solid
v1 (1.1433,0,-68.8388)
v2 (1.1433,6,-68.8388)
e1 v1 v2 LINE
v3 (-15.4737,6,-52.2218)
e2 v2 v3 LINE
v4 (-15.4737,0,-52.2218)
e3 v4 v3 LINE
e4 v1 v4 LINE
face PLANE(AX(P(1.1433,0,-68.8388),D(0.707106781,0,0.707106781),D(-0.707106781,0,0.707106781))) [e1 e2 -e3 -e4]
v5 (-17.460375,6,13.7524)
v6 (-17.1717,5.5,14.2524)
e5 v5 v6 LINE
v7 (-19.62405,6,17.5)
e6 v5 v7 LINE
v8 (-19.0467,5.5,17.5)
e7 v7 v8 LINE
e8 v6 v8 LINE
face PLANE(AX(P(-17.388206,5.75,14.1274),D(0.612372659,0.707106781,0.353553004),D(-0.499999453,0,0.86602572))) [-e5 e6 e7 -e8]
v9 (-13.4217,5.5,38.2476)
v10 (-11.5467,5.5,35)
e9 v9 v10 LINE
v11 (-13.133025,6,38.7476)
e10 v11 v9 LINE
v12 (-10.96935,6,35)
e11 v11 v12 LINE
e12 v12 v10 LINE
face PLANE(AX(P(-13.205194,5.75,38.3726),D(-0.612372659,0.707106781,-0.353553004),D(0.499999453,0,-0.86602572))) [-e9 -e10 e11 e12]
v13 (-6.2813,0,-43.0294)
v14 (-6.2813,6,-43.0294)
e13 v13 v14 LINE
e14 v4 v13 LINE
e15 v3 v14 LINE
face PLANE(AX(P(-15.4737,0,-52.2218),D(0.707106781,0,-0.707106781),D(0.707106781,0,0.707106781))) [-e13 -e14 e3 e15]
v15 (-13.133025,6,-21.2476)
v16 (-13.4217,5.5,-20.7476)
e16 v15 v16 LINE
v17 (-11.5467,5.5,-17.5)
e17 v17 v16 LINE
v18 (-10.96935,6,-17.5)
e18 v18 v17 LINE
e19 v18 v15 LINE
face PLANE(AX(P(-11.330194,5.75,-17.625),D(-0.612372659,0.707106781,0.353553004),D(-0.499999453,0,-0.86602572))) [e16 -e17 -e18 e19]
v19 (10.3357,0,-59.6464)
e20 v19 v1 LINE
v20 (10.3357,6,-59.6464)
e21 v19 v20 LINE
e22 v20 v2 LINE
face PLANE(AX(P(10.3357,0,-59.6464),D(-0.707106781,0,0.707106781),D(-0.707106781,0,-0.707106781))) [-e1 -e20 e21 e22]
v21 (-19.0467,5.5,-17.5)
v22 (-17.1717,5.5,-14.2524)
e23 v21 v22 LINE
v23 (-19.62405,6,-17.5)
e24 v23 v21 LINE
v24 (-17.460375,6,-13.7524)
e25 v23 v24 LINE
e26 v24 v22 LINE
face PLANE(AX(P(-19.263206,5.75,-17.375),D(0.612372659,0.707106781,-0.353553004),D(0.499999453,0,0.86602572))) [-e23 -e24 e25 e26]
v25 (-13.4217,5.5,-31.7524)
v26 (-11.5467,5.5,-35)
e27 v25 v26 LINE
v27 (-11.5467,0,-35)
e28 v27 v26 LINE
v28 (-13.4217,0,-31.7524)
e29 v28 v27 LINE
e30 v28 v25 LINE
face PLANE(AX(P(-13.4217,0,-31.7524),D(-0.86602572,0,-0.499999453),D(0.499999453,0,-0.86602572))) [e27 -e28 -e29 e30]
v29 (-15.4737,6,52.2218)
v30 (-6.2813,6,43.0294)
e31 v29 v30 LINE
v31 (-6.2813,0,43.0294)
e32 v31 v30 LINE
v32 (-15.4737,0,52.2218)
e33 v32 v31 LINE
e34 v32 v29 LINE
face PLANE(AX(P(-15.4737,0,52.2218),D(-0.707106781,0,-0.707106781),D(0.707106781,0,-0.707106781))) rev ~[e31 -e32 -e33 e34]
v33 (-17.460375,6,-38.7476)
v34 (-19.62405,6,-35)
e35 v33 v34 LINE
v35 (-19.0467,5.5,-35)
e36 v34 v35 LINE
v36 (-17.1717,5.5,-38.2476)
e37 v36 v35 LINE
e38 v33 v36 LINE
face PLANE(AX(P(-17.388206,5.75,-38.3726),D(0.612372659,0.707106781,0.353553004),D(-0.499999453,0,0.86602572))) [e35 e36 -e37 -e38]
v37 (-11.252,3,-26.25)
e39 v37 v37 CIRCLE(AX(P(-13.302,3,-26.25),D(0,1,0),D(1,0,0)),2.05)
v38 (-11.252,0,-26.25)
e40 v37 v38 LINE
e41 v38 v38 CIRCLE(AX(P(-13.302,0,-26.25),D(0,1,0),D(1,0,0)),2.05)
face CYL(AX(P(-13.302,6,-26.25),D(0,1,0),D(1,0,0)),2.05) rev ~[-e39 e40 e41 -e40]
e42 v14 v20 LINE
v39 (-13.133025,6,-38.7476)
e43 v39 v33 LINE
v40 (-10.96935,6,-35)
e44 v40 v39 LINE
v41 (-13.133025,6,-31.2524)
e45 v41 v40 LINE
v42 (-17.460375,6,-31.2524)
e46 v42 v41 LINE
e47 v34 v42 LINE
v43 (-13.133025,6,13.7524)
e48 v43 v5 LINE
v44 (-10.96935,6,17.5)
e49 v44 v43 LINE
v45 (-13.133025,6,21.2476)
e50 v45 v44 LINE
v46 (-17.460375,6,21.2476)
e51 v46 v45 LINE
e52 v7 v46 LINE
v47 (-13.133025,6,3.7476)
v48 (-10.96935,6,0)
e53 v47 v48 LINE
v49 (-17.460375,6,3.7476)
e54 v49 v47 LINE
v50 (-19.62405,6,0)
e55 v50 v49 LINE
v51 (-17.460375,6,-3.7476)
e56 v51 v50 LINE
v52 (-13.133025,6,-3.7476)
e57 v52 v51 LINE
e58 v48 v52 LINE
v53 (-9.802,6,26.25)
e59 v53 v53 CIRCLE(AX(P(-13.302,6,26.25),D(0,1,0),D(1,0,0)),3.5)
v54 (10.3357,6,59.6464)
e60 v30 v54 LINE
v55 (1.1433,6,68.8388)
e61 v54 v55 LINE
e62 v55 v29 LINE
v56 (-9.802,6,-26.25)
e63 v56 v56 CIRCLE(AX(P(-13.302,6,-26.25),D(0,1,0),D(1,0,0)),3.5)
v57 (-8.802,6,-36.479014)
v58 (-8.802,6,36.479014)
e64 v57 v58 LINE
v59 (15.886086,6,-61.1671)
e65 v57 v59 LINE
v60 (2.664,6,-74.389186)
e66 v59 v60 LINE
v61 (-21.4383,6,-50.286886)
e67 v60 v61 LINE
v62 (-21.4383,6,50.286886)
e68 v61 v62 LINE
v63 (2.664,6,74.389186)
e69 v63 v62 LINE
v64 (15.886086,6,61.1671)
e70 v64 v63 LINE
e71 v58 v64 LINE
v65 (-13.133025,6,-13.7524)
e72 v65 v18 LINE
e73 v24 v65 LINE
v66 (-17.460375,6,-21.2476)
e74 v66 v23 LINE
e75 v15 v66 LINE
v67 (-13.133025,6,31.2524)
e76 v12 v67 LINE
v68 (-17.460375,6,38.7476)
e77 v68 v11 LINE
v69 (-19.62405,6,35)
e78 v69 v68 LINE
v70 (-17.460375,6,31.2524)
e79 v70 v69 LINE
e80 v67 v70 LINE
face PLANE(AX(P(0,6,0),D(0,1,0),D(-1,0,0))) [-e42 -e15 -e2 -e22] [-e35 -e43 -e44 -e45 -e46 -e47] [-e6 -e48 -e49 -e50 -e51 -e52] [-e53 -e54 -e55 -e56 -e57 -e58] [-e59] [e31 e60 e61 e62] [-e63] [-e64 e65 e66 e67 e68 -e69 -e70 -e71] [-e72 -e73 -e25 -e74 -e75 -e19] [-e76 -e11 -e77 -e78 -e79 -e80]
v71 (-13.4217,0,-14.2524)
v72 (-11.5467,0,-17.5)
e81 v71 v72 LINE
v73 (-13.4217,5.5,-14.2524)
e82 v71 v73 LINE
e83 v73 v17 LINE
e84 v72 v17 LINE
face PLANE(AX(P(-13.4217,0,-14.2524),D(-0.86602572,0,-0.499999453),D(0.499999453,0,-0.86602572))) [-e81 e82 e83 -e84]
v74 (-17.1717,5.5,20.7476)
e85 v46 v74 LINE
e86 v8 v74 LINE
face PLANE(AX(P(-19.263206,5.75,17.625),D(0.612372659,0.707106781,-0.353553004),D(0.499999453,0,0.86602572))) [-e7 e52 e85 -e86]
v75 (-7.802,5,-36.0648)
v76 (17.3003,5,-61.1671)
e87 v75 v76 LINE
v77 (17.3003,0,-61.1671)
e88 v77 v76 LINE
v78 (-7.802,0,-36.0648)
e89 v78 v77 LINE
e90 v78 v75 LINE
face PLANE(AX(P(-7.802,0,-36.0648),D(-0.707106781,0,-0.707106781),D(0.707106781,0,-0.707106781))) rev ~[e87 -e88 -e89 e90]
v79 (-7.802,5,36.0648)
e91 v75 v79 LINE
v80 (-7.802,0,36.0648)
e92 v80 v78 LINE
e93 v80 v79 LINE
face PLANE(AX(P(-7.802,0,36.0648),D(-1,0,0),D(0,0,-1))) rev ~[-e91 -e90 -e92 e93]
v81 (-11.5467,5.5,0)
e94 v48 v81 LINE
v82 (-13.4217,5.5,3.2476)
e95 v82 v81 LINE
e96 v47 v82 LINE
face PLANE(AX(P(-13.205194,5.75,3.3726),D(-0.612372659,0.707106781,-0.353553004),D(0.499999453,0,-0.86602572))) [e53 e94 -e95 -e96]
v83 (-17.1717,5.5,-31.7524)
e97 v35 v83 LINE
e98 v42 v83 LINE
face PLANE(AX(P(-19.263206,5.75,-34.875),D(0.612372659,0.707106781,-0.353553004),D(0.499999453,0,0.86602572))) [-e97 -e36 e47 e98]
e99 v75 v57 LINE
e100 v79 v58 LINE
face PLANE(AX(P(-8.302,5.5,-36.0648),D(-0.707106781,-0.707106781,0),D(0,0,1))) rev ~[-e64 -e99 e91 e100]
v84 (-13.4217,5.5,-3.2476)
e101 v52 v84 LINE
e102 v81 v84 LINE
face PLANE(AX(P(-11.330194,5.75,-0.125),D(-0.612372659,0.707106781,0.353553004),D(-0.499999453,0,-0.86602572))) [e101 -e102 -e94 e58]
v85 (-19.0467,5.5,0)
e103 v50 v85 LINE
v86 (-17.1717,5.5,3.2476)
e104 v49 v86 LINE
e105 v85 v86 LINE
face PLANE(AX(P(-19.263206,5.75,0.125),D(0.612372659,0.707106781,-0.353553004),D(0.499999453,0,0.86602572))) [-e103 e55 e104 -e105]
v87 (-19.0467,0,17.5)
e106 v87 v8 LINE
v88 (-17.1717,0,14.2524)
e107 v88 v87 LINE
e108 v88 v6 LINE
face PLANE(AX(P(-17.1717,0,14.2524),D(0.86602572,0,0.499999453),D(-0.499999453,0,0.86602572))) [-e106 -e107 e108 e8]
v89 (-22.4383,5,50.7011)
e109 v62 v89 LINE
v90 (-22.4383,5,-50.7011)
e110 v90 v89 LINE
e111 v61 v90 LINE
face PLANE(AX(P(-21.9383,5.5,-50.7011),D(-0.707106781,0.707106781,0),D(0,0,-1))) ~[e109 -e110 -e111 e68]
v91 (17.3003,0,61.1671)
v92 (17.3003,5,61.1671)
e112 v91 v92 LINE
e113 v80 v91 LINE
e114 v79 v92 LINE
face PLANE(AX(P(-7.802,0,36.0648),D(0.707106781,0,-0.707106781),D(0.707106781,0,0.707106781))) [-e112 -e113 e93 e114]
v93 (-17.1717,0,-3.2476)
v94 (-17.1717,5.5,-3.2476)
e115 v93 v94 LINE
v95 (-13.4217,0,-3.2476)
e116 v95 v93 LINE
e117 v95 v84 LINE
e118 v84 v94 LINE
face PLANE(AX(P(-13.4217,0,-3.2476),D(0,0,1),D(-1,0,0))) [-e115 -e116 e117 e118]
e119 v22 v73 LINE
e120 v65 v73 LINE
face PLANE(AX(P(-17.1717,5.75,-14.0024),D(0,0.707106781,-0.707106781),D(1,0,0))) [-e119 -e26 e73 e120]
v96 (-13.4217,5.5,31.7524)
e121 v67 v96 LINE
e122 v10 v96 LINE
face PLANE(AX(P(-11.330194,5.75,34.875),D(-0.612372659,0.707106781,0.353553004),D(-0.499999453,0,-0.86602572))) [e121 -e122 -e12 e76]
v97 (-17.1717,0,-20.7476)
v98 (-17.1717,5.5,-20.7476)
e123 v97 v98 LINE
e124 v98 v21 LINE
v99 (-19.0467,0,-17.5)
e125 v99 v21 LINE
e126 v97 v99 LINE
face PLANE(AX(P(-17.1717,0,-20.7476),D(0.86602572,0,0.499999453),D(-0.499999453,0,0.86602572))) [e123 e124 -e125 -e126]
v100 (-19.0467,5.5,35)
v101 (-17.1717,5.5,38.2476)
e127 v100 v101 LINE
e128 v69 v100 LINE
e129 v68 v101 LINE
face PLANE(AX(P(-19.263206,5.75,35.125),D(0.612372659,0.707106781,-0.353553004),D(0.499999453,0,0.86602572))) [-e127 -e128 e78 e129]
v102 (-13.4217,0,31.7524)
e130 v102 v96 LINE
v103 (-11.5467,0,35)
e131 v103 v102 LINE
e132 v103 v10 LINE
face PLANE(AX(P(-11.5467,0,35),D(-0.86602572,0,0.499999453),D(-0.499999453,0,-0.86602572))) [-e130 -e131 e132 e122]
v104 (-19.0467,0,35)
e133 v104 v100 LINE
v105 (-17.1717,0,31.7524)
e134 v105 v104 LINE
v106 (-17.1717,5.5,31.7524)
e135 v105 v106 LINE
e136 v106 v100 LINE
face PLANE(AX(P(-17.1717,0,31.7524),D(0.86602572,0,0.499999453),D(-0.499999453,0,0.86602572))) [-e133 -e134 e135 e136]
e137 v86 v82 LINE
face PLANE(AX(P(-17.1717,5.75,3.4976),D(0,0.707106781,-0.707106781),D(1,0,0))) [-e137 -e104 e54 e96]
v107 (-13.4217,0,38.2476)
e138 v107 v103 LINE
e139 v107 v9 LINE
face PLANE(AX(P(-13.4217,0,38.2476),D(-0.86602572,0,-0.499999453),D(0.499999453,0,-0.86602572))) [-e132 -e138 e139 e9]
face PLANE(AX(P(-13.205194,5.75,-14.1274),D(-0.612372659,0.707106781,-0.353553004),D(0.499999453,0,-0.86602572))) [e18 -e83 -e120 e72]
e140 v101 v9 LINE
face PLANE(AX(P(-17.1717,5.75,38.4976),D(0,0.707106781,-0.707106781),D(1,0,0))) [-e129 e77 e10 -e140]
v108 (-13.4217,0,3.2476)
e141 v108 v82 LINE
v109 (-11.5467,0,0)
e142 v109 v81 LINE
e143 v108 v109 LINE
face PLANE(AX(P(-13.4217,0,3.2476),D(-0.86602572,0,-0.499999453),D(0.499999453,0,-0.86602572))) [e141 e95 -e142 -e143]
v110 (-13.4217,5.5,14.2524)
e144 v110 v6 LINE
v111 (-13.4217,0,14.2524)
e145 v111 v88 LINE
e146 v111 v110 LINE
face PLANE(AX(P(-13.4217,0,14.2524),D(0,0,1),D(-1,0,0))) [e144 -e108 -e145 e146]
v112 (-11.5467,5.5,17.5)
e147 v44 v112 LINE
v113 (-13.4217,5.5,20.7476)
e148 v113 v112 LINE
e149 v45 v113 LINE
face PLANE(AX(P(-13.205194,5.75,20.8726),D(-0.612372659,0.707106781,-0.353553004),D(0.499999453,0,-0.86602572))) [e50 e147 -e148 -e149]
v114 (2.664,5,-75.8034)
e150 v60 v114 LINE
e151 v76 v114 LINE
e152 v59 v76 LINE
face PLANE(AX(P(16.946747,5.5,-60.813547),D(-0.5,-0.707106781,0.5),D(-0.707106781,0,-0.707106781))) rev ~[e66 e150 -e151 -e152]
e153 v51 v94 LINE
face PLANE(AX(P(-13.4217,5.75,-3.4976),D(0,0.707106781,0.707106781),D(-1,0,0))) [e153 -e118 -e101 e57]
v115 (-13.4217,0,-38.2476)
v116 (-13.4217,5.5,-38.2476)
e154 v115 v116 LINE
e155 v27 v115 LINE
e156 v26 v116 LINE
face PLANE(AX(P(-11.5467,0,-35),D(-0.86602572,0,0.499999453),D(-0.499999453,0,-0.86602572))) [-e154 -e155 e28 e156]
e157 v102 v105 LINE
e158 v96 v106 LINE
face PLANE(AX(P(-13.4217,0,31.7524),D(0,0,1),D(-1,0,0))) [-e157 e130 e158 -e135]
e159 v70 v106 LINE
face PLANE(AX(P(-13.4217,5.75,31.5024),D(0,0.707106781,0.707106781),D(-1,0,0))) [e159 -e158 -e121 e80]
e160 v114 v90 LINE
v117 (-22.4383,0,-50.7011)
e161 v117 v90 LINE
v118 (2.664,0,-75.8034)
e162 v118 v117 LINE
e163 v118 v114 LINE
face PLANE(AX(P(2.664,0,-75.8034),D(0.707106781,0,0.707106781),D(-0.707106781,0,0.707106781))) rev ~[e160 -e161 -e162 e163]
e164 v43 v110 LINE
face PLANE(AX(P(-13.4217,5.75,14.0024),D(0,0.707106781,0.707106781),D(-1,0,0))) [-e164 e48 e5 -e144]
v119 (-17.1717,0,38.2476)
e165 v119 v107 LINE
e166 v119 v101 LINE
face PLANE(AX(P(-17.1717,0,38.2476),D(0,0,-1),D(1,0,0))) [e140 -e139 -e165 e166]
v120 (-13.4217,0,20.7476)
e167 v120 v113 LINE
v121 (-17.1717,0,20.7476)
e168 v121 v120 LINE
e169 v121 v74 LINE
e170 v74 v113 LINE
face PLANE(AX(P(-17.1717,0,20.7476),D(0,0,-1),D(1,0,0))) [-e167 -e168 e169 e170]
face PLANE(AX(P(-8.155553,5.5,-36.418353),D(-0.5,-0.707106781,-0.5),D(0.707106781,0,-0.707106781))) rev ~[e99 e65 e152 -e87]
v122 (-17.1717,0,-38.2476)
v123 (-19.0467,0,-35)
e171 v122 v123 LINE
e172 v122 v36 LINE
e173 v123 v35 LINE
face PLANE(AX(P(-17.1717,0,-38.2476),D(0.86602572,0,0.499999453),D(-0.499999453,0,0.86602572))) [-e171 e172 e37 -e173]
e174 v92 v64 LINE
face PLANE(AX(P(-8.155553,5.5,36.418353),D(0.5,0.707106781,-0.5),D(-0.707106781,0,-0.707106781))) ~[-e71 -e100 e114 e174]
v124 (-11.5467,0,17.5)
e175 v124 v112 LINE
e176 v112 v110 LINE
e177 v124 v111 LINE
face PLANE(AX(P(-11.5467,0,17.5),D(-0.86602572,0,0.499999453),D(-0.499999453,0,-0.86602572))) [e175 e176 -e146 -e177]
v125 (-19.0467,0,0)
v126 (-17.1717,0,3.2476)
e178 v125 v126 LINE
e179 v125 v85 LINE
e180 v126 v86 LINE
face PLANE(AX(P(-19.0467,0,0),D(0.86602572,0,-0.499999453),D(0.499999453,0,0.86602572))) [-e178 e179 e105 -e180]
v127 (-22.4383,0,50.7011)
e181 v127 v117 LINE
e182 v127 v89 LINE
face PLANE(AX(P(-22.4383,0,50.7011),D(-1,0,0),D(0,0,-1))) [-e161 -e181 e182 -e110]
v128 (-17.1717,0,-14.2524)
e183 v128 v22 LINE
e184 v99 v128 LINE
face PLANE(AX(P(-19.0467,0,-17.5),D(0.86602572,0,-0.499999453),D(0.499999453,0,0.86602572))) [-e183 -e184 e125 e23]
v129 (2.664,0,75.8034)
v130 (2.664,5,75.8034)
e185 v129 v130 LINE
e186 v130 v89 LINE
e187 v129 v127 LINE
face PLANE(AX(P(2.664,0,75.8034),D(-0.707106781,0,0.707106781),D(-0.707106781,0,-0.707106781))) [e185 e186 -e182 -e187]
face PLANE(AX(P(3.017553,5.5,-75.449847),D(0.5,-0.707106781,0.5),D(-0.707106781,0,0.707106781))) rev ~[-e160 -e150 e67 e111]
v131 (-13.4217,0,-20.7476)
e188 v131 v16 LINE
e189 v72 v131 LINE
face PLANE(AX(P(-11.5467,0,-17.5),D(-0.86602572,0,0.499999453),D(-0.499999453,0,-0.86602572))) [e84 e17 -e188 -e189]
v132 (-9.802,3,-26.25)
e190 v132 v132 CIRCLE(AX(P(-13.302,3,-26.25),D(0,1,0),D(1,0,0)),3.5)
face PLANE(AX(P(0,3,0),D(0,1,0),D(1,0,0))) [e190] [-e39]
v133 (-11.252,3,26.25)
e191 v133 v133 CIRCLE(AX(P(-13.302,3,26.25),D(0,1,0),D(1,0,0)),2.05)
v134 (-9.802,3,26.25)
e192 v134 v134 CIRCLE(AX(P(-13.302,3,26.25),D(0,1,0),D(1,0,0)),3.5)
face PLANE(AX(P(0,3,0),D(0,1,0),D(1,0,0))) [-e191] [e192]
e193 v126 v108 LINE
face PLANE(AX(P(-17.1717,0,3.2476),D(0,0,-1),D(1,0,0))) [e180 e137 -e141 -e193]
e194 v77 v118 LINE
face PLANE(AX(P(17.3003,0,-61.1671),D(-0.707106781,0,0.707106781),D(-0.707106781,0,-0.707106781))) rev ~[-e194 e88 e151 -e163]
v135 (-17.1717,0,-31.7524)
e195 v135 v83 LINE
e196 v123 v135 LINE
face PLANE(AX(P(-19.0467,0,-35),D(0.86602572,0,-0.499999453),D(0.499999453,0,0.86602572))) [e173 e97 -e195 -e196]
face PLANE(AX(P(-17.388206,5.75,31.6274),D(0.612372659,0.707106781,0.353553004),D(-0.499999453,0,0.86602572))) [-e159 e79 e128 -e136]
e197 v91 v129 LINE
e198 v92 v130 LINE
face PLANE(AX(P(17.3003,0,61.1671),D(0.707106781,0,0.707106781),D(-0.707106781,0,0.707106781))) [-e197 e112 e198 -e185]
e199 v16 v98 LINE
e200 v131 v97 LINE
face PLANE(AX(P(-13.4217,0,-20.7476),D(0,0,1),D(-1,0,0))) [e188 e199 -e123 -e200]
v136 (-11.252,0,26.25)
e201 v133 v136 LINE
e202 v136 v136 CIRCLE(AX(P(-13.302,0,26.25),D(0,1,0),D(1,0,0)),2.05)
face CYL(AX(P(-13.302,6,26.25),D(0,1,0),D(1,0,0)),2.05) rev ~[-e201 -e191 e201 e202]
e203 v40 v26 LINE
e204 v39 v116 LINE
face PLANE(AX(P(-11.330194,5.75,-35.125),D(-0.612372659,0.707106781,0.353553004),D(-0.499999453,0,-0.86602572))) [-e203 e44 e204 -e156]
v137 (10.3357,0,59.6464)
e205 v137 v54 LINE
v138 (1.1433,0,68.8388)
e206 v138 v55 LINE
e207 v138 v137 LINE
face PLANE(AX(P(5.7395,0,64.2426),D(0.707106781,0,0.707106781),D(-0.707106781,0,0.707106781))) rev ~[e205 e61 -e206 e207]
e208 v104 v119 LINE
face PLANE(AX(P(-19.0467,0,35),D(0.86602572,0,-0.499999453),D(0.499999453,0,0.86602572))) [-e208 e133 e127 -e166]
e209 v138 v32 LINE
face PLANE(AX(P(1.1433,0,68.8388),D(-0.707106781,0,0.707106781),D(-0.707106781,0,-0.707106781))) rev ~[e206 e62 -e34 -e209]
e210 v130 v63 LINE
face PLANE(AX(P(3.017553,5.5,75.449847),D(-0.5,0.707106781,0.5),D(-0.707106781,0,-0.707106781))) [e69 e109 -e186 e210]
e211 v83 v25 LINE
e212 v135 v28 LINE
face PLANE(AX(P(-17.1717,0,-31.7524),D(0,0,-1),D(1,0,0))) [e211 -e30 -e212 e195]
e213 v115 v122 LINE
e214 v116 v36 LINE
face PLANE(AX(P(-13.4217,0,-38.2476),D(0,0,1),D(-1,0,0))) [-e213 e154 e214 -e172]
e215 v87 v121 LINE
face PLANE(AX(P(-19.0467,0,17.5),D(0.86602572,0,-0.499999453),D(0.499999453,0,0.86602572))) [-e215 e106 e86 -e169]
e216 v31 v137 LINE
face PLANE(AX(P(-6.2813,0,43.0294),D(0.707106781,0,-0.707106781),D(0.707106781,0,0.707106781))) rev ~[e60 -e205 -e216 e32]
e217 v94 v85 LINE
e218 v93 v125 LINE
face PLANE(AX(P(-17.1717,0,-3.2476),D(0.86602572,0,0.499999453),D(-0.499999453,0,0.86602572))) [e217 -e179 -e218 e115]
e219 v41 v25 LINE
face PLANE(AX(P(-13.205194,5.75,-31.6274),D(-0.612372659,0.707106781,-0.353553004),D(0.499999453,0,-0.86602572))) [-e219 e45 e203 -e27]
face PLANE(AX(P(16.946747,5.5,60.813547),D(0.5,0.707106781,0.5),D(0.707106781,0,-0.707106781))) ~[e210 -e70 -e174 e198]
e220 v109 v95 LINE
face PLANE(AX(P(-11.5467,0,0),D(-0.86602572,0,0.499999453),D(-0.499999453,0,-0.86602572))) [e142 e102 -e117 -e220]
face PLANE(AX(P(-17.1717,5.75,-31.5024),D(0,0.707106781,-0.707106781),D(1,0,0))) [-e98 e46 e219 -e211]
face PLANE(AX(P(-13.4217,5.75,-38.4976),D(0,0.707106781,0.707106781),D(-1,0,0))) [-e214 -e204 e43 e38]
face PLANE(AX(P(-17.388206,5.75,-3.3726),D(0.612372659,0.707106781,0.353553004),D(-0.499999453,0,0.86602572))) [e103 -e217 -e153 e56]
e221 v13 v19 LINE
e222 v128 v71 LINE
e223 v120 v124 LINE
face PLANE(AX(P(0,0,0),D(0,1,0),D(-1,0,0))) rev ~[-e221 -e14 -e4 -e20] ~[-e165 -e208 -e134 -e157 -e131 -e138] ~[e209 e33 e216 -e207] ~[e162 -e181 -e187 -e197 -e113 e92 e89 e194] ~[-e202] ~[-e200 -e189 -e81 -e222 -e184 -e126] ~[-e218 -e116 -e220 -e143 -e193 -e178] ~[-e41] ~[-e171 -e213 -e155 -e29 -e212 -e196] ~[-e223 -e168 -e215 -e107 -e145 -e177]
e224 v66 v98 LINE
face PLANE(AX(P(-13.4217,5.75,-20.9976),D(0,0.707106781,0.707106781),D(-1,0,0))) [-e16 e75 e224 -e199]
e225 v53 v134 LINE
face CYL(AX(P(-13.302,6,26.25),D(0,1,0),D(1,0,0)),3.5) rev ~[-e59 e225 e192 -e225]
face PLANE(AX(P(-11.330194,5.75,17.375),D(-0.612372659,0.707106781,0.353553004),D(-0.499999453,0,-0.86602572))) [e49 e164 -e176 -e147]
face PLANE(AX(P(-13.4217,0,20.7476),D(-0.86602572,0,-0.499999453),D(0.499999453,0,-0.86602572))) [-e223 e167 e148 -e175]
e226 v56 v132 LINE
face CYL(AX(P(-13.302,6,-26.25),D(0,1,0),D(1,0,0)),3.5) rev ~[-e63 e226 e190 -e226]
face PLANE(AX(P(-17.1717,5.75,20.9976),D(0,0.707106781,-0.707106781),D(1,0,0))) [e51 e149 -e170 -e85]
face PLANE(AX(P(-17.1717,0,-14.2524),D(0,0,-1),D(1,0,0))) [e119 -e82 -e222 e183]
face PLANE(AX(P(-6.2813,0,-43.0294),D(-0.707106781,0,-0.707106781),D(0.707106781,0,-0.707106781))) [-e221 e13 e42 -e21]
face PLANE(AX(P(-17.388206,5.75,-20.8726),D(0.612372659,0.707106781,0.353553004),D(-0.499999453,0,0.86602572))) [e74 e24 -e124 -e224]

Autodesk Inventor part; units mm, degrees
ref_plane "YZ Plane" through (0, 0, 0) normal (1, 0, 0) x (0, 1, 0)
ref_plane "XZ Plane" through (0, 0, 0) normal (0, 1, 0) x (-1, 0, 0)
ref_plane "XY Plane" through (0, 0, 0) normal (0, 0, 1) x (1, 0, 0)
sketch "Sketch1" plane through (0, 0, 0) normal (0, 1, 0) x (-1, 0, 0)
  line L0 (0, 0) -> (-29.0466, 0)
  line L1 (0, 58.5031) -> (-5.7395, 64.2426)
  line L2 (6.2813, 43.0294) -> (-10.3357, 59.6464)
  line L3 (-10.3357, 59.6464) -> (-1.1433, 68.8388)
  line L4 (-1.1433, 68.8388) -> (15.4737, 52.2218)
  line L5 (15.4737, 52.2218) -> (6.2813, 43.0294)
  line L6 (6.2813, 43.0294) -> (-1.1433, 68.8388) construction
  line L7 (-10.3357, 59.6464) -> (15.4737, 52.2218) construction
  line L8 (7.802, 36.0648) -> (-17.3003, 61.1671)
  line L9 (-17.3003, 61.1671) -> (-2.664, 75.8034)
  line L10 (-2.664, 75.8034) -> (22.4383, 50.7011)
  line L11 (22.4383, 50.7011) -> (7.802, 36.0648)
  line L12 (7.802, 36.0648) -> (-2.664, 75.8034) construction
  line L13 (-17.3003, 61.1671) -> (22.4383, 50.7011) construction
  line L14 (7.802, 36.0648) -> (7.802, -0.7306)
  line L15 (22.4383, 50.7011) -> (22.4383, -0.4008)
  line L16 (6.2813, -43.0294) -> (-10.3357, -59.6464)
  line L17 (-10.3357, -59.6464) -> (-1.1433, -68.8388)
  line L18 (-1.1433, -68.8388) -> (15.4737, -52.2218)
  line L19 (15.4737, -52.2218) -> (6.2813, -43.0294)
  line L20 (-10.3357, -59.6464) -> (15.4737, -52.2218) construction
  line L21 (7.802, -36.0648) -> (-17.3003, -61.1671)
  line L22 (-17.3003, -61.1671) -> (-2.664, -75.8034)
  line L23 (-2.664, -75.8034) -> (22.4383, -50.7011)
  line L24 (22.4383, -50.7011) -> (7.802, -36.0648)
  line L25 (7.802, -36.0648) -> (-2.664, -75.8034) construction
  line L26 (7.802, -36.0648) -> (7.802, -0.7306)
  line L27 (22.4383, -50.7011) -> (22.4383, -0.4008)
  point P0 (2.569, 55.9341)
  point P1 (-1.4969, 60)
  dimension "d0" = 45
  dimension "d1" = 6
  dimension "d2" = 23.5
  dimension "d3" = 13
  dimension "d4" = 60
  dimension "d6" = 6
extrude "Extrusion1" add sketch "Sketch1" along normal blind 6
sketch "Sketch3" plane through (0, 0, 0) normal (0, -1, 0) x (1, 0, 0)
  line L0 (-9.3663, 0) -> (-22.4383, 0)
  line L1 (-22.4383, -50.7011) -> (-22.4383, 50.7011) projected
  circle A0 centre (-15.2967, -35) radius 3.75
  circle A1 centre (-15.2967, 0) radius 3.75
  circle A2 centre (-15.2967, -17.5) radius 3.75
  circle A3 centre (-15.2967, 35) radius 3.75
  line L2 (-19.0467, -35) -> (-17.1717, -31.7524)
  line L3 (-17.1717, -31.7524) -> (-13.4217, -31.7524)
  line L4 (-13.4217, -31.7524) -> (-11.5467, -35)
  line L5 (-11.5467, -35) -> (-13.4217, -38.2476)
  line L6 (-13.4217, -38.2476) -> (-17.1717, -38.2476)
  line L7 (-17.1717, -38.2476) -> (-19.0467, -35)
  line L8 (-19.0467, -17.5) -> (-17.1717, -14.2524)
  line L9 (-17.1717, -14.2524) -> (-13.4217, -14.2524)
  line L10 (-13.4217, -14.2524) -> (-11.5467, -17.5)
  line L11 (-11.5467, -17.5) -> (-13.4217, -20.7476)
  line L12 (-13.4217, -20.7476) -> (-17.1717, -20.7476)
  line L13 (-17.1717, -20.7476) -> (-19.0467, -17.5)
  line L14 (-19.0467, 0) -> (-17.1717, 3.2476)
  line L15 (-17.1717, 3.2476) -> (-13.4217, 3.2476)
  line L16 (-13.4217, 3.2476) -> (-11.5467, 0)
  line L17 (-11.5467, 0) -> (-13.4217, -3.2476)
  line L18 (-13.4217, -3.2476) -> (-17.1717, -3.2476)
  line L19 (-17.1717, -3.2476) -> (-19.0467, 0)
  line L20 (-19.0467, 35) -> (-17.1717, 38.2476)
  line L21 (-17.1717, 38.2476) -> (-13.4217, 38.2476)
  line L22 (-13.4217, 38.2476) -> (-11.5467, 35)
  line L23 (-11.5467, 35) -> (-13.4217, 31.7524)
  line L24 (-13.4217, 31.7524) -> (-17.1717, 31.7524)
  line L25 (-17.1717, 31.7524) -> (-19.0467, 35)
  circle A4 centre (-15.2967, 17.5) radius 3.75
  line L26 (-19.0467, 17.5) -> (-17.1717, 20.7476)
  line L27 (-17.1717, 20.7476) -> (-13.4217, 20.7476)
  line L28 (-13.4217, 20.7476) -> (-11.5467, 17.5)
  line L29 (-11.5467, 17.5) -> (-13.4217, 14.2524)
  line L30 (-13.4217, 14.2524) -> (-17.1717, 14.2524)
  line L31 (-17.1717, 14.2524) -> (-19.0467, 17.5)
  point P0 (0, 0)
  dimension "d15" = 7.5
  dimension "d16" = 7.5
  dimension "d17" = 7.5
  dimension "d19" = 7.5
  dimension "d20" = 7.5
extrude "Extrusion3" cut sketch "Sketch3" against normal blind 6 contours L17 L18 L19 L0 | L0 L14 L15 L16 | L5 L6 L7 L2 L3 L4 | L11 L12 L13 L8 L9 L10 | L23 L24 L25 L20 L21 L22 | L29 L30 L31 L26 L27 L28
sketch "Sketch5" plane through (0, 6, 0) normal (0, 1, 0) x (1, 0, 0)
  line L0 (-17.1717, -3.2476) -> (-19.0467, 0) projected
  line L1 (-19.0467, 0) -> (-17.1717, 3.2476) projected
  line L2 (-17.1717, 3.2476) -> (-13.4217, 3.2476) projected
  line L3 (-13.4217, 3.2476) -> (-11.5467, 0) projected
  line L4 (-11.5467, 0) -> (-13.4217, -3.2476) projected
  line L5 (-13.4217, -3.2476) -> (-17.1717, -3.2476) projected
  line L6 (-13.4217, 20.7476) -> (-11.5467, 17.5) projected
  line L7 (-11.5467, 17.5) -> (-13.4217, 14.2524) projected
  line L8 (-13.4217, 14.2524) -> (-17.1717, 14.2524) projected
  line L9 (-17.1717, 14.2524) -> (-19.0467, 17.5) projected
  line L10 (-19.0467, 17.5) -> (-17.1717, 20.7476) projected
  line L11 (-17.1717, 20.7476) -> (-13.4217, 20.7476) projected
  line L12 (-13.4217, -31.7524) -> (-11.5467, -35) projected
  line L13 (-11.5467, -35) -> (-13.4217, -38.2476) projected
  line L14 (-13.4217, -38.2476) -> (-17.1717, -38.2476) projected
  line L15 (-17.1717, -38.2476) -> (-19.0467, -35) projected
  line L16 (-19.0467, -35) -> (-17.1717, -31.7524) projected
  line L17 (-17.1717, -31.7524) -> (-13.4217, -31.7524) projected
  line L18 (-13.4217, 38.2476) -> (-11.5467, 35) projected
  line L19 (-11.5467, 35) -> (-13.4217, 31.7524) projected
  line L20 (-13.4217, 31.7524) -> (-17.1717, 31.7524) projected
  line L21 (-17.1717, 31.7524) -> (-19.0467, 35) projected
  line L22 (-19.0467, 35) -> (-17.1717, 38.2476) projected
  line L23 (-17.1717, 38.2476) -> (-13.4217, 38.2476) projected
  line L24 (-13.4217, -14.2524) -> (-11.5467, -17.5) projected
  line L25 (-11.5467, -17.5) -> (-13.4217, -20.7476) projected
  line L26 (-13.4217, -20.7476) -> (-17.1717, -20.7476) projected
  line L27 (-17.1717, -20.7476) -> (-19.0467, -17.5) projected
  line L28 (-19.0467, -17.5) -> (-17.1717, -14.2524) projected
  line L29 (-17.1717, -14.2524) -> (-13.4217, -14.2524) projected
  line L30 (-7.802, -36.0648) -> (-7.802, 36.0648) projected
  line L31 (-7.802, 36.0648) -> (17.3003, 61.1671) projected
  line L32 (17.3003, 61.1671) -> (2.664, 75.8034) projected
  line L33 (2.664, 75.8034) -> (-22.4383, 50.7011) projected
  line L34 (-22.4383, 50.7011) -> (-22.4383, -50.7011) projected
  line L35 (-22.4383, -50.7011) -> (2.664, -75.8034) projected
  line L36 (2.664, -75.8034) -> (17.3003, -61.1671) projected
  line L37 (17.3003, -61.1671) -> (-7.802, -36.0648) projected
  line L38 (1.1433, 68.8388) -> (10.3357, 59.6464) projected
  line L39 (10.3357, 59.6464) -> (-6.2813, 43.0294) projected
  line L40 (-6.2813, 43.0294) -> (-15.4737, 52.2218) projected
  line L41 (-15.4737, 52.2218) -> (1.1433, 68.8388) projected
  line L42 (1.1433, -68.8388) -> (-15.4737, -52.2218) projected
  line L43 (-15.4737, -52.2218) -> (-6.2813, -43.0294) projected
  line L44 (-6.2813, -43.0294) -> (10.3357, -59.6464) projected
  line L45 (10.3357, -59.6464) -> (1.1433, -68.8388) projected
  line L46 (-13.4217, -31.7524) -> (-11.5467, -35) projected
  line L47 (-11.5467, -35) -> (-7.802, -35)
  line L48 (-7.802, -36.0648) -> (-7.802, 36.0648) projected
  line L49 (-11.5467, -17.5) -> (-7.802, -17.5)
  line L50 (-11.5467, 17.5) -> (-7.802, 17.5)
  line L51 (-13.4217, 31.7524) -> (-11.5467, 35) projected
  line L52 (-11.5467, 35) -> (-7.802, 35)
  line L53 (-7.802, -26.25) -> (-16.5311, -26.25)
  line L54 (-7.802, 26.25) -> (-17.8697, 26.25)
  circle A0 centre (-13.302, -26.25) radius 2.05
  circle A1 centre (-13.302, 26.25) radius 2.05
  point P0 (0, 0)
  dimension "d34" = 8.75
  dimension "d35" = 8.75
  dimension "d38" = 4.1
  dimension "d39" = 5.5
  dimension "d40" = 4.1
  dimension "d41" = 5.5
extrude "Extrusion4" cut sketch "Sketch5" against normal blind 10 contours A1 L54 | L54 A1 | A0 L53 | L53 A0
chamfer "Chamfer1" distance 1 angle 45 8 edges at (-7.802, 6, 0) (-22.4383, 6, 0) (4.7492, 6, 48.616) (9.9822, 6, 68.4853) (-9.8871, 6, 63.2523) (4.7492, 6, -48.616) (-9.8871, 6, -63.2523) (9.9822, 6, -68.4853)
chamfer "Chamfer2" distance 0.5 angle 45 30 edges at (-15.2967, 6, 3.2476) (-18.1092, 6, 1.6238) (-18.1092, 6, -1.6238) (-15.2967, 6, -3.2476) (-12.4842, 6, -1.6238) (-12.4842, 6, 1.6238) (-15.2967, 6, -14.2524) (-18.1092, 6, -15.8762) (-18.1092, 6, -19.1238) (-15.2967, 6, -20.7476) (-12.4842, 6, -19.1238) (-12.4842, 6, -15.8762) (-18.1092, 6, -33.3762) (-18.1092, 6, -36.6238) (-15.2967, 6, -38.2476) (-12.4842, 6, -36.6238) (-12.4842, 6, -33.3762) (-15.2967, 6, -31.7524) (-15.2967, 6, 14.2524) (-18.1092, 6, 15.8762) (-18.1092, 6, 19.1238) (-15.2967, 6, 20.7476) (-12.4842, 6, 19.1238) (-12.4842, 6, 15.8762) (-15.2967, 6, 31.7524) (-18.1092, 6, 33.3762) (-18.1092, 6, 36.6238) (-15.2967, 6, 38.2476) (-12.4842, 6, 36.6238) (-12.4842, 6, 33.3762)
sketch "Sketch6" plane through (0, 6, 0) normal (0, 1, 0) x (1, 0, 0)
  circle A0 centre (-13.302, -26.25) radius 2.05 projected
  circle A1 centre (-13.302, -26.25) radius 3.5
  circle A2 centre (-13.302, 26.25) radius 2.05 projected
  circle A3 centre (-13.302, 26.25) radius 3.5
  point P0 (0, 0)
  dimension "d50" = 7
  dimension "d51" = 7
extrude "Extrusion5" cut sketch "Sketch6" against normal blind 3
equation "\"d15\" = d17"
equation "\"d16\" = d17"
equation "\"d19\" = d17"
equation "\"d20\" = d17"
equation "\"d51\" = d50"
properties part number "Side_Frame"
